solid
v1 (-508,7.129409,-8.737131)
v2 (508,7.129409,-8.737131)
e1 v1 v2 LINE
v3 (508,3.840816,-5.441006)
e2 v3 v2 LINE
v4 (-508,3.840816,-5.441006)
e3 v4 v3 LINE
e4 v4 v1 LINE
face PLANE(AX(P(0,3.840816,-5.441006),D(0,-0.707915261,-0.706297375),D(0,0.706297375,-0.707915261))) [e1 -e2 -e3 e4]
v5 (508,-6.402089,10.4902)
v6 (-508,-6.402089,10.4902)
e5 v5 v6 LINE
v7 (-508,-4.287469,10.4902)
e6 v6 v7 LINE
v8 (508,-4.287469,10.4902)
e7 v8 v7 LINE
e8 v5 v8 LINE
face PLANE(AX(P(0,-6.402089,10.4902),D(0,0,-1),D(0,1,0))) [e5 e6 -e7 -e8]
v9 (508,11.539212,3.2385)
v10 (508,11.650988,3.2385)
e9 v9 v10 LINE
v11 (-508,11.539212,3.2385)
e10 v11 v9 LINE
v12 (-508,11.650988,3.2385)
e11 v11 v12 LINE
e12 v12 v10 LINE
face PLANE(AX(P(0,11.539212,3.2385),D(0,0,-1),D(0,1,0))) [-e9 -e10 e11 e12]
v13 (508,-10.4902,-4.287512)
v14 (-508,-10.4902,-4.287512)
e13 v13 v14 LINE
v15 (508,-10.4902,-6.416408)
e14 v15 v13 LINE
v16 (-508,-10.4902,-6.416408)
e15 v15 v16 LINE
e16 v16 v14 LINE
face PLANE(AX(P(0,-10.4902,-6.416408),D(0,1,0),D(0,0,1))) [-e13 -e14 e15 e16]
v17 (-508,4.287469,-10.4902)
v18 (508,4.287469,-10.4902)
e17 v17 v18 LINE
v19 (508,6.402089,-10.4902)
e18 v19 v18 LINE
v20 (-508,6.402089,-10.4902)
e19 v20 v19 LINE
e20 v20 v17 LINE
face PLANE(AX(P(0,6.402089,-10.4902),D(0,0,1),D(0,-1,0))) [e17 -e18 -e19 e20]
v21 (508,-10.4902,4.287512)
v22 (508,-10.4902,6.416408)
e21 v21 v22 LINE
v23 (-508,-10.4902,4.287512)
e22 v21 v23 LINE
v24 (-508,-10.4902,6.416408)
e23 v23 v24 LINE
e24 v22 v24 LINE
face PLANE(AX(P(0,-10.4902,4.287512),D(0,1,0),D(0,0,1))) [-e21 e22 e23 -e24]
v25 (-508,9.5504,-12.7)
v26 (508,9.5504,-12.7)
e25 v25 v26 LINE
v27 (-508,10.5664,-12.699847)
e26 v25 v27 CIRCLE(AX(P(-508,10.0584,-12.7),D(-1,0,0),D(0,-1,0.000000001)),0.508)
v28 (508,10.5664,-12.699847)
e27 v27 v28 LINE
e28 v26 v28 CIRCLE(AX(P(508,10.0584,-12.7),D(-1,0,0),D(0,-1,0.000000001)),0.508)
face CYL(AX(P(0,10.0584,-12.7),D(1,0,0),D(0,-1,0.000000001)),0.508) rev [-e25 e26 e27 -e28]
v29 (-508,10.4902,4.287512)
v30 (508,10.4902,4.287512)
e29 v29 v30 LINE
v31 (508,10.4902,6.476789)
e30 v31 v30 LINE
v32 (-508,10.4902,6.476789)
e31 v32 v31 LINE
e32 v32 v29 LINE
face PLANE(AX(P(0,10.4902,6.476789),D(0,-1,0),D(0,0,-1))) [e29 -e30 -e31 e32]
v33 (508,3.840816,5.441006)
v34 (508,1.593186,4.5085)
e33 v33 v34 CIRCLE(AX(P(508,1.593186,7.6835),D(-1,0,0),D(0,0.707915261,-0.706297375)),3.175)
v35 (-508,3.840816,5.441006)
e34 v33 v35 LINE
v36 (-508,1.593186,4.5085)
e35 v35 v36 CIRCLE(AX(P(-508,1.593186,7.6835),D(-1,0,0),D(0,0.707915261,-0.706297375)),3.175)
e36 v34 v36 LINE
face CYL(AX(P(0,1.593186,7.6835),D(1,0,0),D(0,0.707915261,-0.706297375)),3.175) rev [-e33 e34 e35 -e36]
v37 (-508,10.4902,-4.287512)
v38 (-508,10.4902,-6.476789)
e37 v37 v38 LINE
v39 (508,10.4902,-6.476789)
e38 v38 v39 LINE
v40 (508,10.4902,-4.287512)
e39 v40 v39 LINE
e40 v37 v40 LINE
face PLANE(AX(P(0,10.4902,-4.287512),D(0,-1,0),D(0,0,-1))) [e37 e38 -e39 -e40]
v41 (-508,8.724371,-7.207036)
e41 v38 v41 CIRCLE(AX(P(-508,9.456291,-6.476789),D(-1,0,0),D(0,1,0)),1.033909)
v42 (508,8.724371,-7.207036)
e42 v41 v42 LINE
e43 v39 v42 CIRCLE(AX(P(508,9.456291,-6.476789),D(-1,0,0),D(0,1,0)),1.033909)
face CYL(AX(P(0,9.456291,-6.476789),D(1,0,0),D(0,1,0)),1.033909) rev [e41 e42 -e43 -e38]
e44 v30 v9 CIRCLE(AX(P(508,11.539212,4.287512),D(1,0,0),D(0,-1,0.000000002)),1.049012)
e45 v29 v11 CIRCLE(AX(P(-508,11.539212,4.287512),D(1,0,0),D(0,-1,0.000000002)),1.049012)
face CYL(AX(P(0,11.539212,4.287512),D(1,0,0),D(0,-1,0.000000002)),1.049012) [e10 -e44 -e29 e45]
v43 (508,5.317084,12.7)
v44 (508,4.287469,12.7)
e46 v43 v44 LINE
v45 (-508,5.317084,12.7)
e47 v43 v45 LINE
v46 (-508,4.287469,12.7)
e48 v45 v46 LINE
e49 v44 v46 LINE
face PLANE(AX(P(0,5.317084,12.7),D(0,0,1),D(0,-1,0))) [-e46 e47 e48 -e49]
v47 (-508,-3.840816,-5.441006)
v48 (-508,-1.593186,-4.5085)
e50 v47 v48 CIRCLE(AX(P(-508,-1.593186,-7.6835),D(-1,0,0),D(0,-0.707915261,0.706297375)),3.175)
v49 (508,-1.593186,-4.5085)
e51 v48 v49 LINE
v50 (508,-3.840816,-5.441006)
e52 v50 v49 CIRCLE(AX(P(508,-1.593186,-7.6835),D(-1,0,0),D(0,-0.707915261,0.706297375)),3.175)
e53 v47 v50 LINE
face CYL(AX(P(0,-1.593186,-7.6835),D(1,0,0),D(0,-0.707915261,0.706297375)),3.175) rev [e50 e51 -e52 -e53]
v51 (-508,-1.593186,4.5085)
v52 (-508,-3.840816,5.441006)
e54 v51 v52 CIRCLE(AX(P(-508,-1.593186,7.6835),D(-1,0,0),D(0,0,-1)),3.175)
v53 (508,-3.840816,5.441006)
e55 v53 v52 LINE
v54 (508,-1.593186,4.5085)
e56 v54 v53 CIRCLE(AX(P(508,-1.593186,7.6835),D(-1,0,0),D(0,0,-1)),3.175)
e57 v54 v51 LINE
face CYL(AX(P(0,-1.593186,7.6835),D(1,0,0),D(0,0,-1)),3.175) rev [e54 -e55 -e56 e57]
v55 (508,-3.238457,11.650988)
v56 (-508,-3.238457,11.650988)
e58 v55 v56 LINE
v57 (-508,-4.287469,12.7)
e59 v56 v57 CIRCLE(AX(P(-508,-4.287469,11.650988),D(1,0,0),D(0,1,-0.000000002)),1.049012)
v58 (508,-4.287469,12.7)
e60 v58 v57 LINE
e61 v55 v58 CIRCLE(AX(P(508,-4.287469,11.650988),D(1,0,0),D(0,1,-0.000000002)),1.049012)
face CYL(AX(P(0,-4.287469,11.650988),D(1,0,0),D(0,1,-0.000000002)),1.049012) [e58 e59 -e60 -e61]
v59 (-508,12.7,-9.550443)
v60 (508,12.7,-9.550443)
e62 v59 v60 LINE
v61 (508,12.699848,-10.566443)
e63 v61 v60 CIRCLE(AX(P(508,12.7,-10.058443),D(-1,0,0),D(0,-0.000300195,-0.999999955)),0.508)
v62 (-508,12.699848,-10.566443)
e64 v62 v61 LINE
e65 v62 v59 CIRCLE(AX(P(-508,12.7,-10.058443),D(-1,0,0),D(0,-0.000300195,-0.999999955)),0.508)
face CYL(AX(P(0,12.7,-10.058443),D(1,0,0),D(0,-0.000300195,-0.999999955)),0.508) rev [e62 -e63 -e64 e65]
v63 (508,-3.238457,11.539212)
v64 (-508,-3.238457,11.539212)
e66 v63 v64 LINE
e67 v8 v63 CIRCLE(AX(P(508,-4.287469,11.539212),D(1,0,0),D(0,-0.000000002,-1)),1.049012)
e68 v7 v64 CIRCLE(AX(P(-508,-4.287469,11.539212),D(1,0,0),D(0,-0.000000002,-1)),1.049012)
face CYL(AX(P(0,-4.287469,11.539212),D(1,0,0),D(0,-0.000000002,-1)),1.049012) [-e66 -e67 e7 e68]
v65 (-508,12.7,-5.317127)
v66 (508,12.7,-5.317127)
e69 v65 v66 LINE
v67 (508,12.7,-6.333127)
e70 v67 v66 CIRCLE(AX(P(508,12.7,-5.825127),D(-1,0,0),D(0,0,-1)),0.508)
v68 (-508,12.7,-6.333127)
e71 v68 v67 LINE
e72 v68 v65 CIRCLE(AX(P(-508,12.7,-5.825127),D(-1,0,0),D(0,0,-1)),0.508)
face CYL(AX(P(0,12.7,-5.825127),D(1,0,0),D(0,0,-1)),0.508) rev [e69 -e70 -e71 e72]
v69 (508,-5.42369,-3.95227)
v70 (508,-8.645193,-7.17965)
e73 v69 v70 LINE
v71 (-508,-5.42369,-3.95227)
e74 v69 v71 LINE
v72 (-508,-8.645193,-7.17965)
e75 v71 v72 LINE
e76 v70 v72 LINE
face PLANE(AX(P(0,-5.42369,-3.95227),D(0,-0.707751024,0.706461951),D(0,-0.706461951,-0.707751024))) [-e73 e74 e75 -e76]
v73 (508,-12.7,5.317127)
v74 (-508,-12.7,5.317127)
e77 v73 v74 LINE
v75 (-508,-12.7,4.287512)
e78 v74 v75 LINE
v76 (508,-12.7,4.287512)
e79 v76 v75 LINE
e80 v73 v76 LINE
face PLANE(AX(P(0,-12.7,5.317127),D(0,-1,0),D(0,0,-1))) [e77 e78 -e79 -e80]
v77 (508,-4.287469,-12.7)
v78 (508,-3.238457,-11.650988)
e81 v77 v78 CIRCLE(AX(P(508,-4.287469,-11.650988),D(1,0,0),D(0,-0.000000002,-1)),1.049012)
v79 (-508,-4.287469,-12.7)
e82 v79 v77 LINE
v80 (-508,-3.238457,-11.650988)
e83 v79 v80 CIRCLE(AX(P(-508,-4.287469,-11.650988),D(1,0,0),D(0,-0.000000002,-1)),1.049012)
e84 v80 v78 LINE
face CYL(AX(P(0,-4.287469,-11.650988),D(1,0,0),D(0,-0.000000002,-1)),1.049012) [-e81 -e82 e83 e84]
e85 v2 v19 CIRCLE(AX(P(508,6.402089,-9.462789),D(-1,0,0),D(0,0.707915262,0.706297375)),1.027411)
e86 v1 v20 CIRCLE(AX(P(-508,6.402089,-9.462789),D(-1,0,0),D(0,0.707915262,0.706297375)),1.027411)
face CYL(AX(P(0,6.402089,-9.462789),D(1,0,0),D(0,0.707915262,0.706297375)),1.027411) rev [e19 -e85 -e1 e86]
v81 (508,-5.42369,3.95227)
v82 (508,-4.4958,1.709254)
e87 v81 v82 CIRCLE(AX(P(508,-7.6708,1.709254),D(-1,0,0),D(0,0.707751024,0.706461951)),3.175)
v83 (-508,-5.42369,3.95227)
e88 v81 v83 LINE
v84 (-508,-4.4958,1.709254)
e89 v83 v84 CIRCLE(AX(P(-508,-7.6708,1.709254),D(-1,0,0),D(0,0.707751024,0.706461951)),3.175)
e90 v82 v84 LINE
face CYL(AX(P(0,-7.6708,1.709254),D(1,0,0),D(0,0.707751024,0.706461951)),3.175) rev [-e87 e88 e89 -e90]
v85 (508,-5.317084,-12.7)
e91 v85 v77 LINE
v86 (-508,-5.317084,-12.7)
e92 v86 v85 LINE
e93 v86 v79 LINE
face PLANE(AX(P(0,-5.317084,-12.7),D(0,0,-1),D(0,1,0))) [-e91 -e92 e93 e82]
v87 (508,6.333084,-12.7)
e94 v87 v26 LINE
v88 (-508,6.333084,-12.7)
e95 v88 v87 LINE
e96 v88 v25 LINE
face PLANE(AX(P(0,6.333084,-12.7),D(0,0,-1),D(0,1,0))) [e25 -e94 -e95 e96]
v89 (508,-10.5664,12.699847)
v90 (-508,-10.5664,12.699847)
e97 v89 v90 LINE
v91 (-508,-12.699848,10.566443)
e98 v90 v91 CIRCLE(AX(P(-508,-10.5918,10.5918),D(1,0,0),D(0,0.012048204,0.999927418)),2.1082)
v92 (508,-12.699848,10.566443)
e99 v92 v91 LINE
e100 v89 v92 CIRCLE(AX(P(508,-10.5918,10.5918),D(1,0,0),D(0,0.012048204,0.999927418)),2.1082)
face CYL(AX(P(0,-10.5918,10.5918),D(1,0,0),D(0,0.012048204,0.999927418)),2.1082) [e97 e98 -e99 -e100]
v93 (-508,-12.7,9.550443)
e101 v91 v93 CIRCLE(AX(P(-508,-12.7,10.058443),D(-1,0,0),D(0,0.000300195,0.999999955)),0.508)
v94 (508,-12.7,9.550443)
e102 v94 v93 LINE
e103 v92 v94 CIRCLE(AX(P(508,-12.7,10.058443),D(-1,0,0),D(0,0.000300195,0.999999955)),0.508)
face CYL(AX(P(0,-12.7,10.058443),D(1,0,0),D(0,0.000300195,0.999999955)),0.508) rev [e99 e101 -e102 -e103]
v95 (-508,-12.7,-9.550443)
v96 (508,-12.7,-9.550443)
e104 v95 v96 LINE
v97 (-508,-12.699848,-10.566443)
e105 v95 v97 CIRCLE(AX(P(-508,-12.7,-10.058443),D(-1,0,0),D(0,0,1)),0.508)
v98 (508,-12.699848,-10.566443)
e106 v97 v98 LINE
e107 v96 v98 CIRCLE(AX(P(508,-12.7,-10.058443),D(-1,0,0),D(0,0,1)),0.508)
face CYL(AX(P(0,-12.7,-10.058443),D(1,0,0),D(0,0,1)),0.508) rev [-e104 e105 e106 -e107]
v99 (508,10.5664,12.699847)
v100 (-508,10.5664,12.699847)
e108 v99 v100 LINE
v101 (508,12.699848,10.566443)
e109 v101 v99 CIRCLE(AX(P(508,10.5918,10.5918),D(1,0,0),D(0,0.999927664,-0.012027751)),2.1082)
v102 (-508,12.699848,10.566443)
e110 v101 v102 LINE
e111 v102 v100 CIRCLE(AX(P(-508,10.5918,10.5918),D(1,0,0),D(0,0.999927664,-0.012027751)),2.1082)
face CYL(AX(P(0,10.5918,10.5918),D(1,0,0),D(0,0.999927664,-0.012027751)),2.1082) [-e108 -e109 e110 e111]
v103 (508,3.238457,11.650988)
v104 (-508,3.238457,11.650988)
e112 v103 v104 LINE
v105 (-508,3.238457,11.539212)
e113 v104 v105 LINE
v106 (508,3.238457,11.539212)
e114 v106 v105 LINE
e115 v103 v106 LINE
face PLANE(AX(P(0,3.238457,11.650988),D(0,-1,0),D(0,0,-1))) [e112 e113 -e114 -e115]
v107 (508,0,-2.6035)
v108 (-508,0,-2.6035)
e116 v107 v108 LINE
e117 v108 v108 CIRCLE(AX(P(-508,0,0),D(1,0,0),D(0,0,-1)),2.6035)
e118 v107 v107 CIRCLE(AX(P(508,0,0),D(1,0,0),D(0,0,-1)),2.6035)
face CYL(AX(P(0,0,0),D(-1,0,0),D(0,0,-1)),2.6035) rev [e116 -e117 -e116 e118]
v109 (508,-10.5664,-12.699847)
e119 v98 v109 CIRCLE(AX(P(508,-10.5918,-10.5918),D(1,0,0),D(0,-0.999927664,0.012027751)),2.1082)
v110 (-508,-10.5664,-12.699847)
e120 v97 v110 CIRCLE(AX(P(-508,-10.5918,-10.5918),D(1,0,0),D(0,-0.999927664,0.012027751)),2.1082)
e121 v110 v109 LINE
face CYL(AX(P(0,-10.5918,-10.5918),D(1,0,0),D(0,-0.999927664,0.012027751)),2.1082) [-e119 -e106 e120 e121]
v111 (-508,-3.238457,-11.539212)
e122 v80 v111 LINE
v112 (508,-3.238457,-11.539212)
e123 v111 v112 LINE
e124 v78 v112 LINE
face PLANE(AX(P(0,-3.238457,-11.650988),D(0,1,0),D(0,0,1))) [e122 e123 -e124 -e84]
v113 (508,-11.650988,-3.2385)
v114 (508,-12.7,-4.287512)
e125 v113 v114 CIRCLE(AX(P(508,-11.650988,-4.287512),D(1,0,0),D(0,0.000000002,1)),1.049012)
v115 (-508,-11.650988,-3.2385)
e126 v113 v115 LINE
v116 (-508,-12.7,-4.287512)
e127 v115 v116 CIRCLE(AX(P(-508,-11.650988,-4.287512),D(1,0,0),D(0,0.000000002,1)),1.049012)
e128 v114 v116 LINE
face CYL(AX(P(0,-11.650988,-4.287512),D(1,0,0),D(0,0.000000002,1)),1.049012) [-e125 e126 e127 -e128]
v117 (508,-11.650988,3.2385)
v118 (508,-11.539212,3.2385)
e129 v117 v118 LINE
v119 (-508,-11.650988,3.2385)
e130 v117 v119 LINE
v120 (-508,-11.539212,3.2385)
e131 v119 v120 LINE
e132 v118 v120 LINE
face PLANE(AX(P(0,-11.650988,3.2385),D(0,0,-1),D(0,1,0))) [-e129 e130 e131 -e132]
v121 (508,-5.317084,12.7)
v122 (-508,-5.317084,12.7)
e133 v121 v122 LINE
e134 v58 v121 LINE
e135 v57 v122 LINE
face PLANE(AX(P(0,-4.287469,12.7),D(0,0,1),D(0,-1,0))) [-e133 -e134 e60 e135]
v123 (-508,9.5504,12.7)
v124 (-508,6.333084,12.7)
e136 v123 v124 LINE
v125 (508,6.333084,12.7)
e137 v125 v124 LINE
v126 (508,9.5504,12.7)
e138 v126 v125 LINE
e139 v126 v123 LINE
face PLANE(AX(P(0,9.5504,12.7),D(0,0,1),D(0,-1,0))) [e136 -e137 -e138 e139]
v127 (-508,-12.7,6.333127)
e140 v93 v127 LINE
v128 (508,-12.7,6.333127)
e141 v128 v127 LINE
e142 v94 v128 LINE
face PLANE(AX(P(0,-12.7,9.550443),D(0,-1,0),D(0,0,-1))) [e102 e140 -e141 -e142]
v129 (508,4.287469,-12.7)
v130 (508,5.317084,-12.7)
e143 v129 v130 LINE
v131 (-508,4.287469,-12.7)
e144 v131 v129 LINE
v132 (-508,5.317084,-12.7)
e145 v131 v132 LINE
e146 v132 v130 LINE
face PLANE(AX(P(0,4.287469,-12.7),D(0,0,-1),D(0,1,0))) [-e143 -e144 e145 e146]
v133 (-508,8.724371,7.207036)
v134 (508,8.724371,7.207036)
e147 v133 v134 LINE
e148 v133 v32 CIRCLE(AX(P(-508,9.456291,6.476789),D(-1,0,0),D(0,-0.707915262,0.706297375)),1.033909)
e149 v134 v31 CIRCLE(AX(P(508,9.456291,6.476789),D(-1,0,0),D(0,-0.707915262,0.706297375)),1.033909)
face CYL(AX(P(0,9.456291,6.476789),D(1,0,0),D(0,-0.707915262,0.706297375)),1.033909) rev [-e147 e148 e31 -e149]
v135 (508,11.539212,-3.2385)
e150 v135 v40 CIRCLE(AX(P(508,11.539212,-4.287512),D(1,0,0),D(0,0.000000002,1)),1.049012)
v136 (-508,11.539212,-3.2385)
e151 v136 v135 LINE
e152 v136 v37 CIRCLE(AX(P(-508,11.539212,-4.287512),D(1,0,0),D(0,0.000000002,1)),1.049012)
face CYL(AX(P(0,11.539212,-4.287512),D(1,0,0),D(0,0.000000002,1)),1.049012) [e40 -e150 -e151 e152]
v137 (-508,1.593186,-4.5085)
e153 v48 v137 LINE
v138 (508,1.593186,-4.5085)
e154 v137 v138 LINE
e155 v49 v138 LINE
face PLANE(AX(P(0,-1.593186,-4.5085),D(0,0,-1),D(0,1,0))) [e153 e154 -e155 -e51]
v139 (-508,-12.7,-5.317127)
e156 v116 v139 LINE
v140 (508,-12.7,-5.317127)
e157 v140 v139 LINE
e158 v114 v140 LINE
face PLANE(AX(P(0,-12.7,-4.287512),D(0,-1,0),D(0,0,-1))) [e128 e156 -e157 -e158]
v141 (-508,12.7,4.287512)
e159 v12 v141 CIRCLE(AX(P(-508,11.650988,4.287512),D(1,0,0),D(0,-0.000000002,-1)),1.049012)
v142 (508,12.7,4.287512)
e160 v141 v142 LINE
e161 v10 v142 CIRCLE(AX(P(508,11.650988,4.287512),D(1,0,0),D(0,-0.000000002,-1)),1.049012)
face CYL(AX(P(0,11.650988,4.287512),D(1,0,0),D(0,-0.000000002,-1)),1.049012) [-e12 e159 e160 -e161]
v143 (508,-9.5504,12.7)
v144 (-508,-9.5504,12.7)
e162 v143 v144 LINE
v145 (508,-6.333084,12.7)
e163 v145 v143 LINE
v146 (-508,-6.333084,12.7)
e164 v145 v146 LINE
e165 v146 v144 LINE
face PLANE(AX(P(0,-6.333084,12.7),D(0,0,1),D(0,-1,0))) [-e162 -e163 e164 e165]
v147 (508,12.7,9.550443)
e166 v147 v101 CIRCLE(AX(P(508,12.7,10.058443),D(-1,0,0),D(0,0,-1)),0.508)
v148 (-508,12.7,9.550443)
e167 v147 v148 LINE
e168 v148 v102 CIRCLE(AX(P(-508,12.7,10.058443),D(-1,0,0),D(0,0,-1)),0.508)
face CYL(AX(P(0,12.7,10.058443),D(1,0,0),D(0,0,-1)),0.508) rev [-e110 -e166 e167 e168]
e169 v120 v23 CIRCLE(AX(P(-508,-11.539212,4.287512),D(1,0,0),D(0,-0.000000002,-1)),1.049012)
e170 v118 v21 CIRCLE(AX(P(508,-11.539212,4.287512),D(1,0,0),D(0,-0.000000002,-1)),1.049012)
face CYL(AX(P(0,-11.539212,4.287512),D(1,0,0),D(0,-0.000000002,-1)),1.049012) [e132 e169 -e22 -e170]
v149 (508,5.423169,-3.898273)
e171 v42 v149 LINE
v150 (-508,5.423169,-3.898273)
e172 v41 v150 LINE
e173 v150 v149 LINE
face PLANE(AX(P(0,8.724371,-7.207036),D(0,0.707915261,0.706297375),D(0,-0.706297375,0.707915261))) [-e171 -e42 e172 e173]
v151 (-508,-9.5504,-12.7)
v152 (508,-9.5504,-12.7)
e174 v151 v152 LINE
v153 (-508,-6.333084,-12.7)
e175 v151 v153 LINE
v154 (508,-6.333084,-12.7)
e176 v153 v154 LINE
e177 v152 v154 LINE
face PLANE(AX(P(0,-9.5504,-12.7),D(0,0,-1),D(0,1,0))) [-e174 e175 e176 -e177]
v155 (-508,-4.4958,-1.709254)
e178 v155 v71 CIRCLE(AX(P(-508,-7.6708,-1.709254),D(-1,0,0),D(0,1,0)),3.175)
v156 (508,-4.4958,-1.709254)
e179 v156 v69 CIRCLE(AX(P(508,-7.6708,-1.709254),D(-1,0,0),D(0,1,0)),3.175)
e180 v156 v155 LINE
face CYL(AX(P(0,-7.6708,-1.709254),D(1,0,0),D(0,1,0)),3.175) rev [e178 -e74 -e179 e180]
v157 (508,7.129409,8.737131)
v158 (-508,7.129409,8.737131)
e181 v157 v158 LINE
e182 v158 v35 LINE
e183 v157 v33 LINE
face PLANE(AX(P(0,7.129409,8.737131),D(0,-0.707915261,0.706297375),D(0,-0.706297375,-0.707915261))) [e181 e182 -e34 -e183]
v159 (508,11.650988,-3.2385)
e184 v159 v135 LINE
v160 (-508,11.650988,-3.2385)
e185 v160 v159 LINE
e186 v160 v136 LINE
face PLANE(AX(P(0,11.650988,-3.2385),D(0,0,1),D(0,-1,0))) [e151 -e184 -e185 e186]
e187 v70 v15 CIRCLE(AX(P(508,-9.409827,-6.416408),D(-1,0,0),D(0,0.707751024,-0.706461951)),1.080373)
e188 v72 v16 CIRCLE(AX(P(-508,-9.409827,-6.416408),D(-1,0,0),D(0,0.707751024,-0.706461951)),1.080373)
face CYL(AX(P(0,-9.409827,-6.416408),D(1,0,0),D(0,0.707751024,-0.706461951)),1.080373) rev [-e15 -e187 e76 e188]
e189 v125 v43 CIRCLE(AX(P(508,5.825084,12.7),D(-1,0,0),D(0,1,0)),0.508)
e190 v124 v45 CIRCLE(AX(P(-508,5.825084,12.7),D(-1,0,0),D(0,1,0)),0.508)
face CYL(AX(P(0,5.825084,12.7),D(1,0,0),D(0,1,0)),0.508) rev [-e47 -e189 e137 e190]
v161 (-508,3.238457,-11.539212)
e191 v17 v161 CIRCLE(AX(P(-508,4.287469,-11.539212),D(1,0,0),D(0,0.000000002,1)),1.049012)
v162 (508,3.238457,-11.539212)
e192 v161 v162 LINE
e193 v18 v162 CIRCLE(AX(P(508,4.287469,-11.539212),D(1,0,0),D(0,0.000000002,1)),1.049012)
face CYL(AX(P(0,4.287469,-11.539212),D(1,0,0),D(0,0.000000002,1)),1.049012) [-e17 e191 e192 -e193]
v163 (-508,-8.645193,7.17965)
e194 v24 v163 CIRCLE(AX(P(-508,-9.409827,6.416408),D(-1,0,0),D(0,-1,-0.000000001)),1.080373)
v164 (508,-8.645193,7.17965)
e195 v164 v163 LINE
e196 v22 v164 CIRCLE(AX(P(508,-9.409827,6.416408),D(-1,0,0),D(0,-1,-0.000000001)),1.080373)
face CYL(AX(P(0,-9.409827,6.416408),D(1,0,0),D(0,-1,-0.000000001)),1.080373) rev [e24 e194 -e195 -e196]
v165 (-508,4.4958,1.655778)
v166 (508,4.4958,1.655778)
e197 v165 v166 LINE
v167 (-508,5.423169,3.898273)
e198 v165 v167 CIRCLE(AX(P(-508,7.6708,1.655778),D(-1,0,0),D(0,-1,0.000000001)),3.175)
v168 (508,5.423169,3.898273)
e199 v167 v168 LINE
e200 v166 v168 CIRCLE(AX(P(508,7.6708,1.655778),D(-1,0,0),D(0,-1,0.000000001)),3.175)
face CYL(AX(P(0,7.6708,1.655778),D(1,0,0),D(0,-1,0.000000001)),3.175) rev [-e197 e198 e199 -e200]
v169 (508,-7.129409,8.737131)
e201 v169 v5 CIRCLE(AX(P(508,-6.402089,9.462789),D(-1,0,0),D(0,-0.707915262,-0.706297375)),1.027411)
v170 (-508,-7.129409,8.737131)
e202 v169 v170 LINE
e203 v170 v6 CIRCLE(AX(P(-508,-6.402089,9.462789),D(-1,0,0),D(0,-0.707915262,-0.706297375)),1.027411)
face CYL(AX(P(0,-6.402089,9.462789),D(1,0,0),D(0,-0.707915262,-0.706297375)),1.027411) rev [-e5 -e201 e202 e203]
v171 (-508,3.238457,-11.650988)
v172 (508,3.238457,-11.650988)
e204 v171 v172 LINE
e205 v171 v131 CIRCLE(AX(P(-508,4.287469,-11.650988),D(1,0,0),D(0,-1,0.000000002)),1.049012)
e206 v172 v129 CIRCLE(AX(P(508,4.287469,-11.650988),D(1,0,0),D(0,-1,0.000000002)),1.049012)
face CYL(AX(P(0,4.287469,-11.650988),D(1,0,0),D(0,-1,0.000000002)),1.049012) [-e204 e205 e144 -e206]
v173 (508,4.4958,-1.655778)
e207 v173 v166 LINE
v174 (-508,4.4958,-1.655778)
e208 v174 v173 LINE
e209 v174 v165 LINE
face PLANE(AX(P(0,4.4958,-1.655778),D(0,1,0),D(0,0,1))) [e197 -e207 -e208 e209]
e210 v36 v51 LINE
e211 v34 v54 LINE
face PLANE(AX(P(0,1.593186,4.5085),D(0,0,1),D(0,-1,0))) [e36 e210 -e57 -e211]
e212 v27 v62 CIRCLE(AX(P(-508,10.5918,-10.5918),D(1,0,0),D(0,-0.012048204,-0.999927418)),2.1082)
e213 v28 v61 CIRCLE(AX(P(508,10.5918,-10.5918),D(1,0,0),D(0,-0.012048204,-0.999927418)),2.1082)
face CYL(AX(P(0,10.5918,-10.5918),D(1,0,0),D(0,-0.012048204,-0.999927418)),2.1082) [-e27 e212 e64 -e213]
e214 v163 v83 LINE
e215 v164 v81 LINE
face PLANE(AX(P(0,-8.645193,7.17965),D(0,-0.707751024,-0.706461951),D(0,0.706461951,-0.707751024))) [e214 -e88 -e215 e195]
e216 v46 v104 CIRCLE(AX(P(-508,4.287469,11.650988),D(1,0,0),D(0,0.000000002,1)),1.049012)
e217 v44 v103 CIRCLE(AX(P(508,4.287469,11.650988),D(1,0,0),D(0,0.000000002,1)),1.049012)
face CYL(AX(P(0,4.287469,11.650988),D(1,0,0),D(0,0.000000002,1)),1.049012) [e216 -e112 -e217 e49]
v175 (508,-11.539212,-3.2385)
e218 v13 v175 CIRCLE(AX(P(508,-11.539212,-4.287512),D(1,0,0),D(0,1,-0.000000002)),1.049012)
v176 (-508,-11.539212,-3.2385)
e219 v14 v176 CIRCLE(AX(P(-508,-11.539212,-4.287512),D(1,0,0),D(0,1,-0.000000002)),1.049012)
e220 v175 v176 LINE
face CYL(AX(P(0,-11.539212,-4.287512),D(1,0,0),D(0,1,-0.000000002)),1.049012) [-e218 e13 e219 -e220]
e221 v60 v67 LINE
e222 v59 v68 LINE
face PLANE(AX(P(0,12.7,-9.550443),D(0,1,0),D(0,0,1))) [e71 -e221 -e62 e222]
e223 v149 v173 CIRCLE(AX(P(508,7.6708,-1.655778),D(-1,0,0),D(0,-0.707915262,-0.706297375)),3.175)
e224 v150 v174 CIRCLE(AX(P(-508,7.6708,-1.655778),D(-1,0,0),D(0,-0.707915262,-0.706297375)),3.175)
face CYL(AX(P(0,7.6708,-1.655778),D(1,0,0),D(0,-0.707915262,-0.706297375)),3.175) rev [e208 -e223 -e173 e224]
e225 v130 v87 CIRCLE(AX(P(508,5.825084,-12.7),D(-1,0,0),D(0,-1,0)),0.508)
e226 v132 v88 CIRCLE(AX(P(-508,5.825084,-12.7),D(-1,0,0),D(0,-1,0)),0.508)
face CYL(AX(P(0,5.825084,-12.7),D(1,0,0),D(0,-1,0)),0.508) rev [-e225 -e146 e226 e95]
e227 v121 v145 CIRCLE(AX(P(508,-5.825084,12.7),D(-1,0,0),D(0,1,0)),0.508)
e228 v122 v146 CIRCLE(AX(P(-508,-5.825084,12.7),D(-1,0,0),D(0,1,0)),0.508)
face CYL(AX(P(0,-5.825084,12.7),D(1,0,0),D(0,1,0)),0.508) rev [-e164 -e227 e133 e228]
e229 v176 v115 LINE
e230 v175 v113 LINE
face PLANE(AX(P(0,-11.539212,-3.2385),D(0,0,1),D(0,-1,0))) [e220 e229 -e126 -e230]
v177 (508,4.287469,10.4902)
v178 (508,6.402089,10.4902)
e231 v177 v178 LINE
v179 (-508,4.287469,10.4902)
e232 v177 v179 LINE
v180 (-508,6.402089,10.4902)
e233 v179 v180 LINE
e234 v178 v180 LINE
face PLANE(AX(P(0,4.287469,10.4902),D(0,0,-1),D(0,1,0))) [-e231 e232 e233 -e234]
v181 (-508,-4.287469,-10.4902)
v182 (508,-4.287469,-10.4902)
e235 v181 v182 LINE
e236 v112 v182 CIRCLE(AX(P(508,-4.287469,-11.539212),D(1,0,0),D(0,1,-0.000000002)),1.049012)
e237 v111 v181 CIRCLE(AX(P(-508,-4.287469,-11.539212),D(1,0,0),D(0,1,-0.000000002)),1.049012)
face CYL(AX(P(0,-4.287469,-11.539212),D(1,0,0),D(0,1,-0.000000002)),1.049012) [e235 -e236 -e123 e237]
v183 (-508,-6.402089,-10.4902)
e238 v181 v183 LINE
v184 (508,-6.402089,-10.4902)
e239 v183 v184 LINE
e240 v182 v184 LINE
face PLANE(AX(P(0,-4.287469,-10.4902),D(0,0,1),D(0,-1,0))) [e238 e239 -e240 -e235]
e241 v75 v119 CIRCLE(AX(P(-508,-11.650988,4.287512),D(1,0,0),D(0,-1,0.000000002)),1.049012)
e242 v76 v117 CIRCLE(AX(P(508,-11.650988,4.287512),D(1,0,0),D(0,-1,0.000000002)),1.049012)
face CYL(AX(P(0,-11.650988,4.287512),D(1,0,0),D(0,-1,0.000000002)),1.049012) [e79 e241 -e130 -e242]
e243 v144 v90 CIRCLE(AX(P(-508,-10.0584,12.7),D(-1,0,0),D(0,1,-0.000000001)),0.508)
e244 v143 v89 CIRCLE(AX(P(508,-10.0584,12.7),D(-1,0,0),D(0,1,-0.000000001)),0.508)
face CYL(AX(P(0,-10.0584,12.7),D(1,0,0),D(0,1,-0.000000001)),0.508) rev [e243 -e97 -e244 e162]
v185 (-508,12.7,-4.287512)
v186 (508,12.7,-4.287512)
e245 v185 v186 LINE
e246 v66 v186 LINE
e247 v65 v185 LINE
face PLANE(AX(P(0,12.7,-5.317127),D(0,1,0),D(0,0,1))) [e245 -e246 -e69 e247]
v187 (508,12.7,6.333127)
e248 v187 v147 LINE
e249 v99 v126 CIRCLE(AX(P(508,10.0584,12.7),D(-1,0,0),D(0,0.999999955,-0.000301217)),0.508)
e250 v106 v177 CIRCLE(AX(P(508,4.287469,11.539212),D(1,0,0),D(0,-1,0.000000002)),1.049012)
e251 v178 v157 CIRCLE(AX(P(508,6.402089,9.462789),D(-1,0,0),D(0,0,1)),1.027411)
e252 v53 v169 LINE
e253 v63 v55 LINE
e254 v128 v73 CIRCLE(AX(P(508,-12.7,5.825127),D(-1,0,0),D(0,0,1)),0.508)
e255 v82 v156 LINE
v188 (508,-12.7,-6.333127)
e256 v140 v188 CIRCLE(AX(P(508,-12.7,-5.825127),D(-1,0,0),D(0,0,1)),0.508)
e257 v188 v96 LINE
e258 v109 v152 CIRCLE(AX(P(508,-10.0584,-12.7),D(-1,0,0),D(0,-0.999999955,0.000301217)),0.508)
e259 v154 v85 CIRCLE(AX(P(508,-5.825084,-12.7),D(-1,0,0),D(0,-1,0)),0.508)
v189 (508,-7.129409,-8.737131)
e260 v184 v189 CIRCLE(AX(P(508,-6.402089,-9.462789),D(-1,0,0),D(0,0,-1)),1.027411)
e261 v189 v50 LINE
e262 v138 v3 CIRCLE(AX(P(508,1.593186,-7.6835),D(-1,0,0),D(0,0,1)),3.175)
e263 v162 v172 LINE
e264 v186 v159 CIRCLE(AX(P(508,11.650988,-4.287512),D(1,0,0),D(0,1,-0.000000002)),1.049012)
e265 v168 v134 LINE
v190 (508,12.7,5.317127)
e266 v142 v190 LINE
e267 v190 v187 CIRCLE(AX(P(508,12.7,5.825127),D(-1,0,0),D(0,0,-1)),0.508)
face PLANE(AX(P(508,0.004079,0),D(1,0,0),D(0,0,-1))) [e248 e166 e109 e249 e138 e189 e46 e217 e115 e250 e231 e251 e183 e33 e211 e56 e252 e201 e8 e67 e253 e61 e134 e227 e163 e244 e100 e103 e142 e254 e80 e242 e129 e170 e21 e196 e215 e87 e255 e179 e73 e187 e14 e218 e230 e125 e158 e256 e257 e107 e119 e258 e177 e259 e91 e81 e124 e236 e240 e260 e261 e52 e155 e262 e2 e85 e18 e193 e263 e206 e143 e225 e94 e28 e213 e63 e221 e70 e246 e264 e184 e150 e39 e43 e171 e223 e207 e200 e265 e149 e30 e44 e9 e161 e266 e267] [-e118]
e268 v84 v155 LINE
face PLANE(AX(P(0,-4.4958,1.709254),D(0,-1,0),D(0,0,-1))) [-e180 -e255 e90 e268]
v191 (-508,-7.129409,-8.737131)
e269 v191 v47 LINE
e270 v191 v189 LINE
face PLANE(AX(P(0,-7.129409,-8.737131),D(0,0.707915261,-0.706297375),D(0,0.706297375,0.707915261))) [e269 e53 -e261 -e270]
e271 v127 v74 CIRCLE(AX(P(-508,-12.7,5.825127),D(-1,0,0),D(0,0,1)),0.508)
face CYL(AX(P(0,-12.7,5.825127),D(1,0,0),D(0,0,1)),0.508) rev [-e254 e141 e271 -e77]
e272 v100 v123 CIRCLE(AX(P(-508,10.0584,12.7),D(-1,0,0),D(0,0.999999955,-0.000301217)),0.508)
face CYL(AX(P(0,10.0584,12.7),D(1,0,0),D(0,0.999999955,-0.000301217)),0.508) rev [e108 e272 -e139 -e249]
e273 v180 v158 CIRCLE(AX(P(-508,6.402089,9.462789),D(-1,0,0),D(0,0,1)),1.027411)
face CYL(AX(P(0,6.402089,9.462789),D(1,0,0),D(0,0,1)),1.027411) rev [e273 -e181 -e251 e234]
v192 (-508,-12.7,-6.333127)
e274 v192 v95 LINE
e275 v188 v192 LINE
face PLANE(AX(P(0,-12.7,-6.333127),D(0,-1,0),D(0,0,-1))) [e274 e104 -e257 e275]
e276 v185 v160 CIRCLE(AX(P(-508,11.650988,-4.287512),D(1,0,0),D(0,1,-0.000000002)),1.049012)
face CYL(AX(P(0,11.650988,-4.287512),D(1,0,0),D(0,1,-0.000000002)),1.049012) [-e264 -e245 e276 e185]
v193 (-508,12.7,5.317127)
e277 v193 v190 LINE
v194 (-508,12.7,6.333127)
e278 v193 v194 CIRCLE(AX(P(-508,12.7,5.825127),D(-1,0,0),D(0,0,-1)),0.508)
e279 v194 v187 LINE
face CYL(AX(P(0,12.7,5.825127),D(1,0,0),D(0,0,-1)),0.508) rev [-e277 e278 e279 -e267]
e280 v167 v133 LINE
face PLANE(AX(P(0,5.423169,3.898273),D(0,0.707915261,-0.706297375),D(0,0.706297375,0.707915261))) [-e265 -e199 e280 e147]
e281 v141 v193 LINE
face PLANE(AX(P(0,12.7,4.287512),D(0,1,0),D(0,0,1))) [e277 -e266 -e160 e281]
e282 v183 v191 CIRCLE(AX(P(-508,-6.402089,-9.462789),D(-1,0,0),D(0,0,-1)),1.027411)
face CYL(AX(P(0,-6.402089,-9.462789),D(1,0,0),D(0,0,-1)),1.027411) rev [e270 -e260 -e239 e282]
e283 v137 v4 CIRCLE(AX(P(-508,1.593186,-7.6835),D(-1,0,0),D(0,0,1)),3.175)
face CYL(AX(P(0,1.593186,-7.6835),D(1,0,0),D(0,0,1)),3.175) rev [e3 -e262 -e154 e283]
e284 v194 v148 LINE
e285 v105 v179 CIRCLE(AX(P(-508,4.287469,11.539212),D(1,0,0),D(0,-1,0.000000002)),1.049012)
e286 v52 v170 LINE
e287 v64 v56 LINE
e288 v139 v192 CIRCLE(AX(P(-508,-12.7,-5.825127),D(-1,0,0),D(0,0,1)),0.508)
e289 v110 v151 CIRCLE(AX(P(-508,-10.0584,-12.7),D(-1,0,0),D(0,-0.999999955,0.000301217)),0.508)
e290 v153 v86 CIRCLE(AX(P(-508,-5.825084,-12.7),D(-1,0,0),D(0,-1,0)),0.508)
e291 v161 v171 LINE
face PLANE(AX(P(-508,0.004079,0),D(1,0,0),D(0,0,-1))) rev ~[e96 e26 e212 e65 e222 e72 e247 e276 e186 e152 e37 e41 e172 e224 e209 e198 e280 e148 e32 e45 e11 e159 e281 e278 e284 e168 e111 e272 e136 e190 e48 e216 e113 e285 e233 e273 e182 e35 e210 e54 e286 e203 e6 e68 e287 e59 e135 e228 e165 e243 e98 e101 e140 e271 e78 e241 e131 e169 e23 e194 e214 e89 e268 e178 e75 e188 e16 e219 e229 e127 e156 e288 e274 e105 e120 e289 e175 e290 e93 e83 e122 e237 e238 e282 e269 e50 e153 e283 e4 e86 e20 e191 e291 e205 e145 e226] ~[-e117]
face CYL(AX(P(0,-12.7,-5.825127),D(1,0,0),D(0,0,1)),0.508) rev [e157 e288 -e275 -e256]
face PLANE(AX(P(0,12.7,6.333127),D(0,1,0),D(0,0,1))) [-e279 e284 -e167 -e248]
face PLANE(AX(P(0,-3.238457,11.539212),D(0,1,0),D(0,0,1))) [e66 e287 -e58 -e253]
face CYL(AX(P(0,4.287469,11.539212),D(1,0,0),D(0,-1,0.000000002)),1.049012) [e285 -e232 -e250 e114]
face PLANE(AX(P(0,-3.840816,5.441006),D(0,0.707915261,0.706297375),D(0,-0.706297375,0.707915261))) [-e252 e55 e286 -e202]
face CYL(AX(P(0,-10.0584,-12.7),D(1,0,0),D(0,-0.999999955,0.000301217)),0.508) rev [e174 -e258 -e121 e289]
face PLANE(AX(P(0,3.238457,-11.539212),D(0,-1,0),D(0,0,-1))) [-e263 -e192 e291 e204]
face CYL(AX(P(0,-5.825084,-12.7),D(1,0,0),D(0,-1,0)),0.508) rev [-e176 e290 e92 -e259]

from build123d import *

# Parameters (mm, degrees)
SKETCH1_R           = 2.6035
BOSS_EXTRUDE1_DEPTH = 508


with BuildPart() as part:
    # Sketch1 → Boss-Extrude1 (new, symmetric)
    with BuildSketch(Plane(origin=(0, 0, 0), x_dir=(0, 0, -1), z_dir=(1, 0, 0))):
        with BuildLine():
            Line((6.333126718, -12.7), (9.550443118, -12.7))
            ThreePointArc((9.550443118, -12.7), (10.058366869, -12.192000006), (10.566443095, -12.699847501))
            ThreePointArc((10.566443095, -12.699847501), (12.082537762, -12.08250727), (12.699846982, -10.566399977))
            ThreePointArc((12.699846982, -10.566399977), (12.192000006, -10.058323491), (12.7, -9.5504))
            Line((12.7, -9.5504), (12.7, -6.3330836))
            ThreePointArc((12.7, -6.3330836), (12.192, -5.8250836), (12.7, -5.3170836))
            Line((12.7, -5.3170836), (12.7, -4.287469289))
            ThreePointArc((12.7, -4.287469289), (12.39275138, -3.545705502), (11.650987593, -3.238456882))
            Line((11.650987593, -3.238456882), (11.539212407, -3.238456882))
            ThreePointArc((11.539212407, -3.238456882), (10.79744862, -3.545705502), (10.4902, -4.287469289))
            Line((10.4902, -4.287469289), (10.4902, -6.402089023))
            ThreePointArc((10.4902, -6.402089023), (9.856505071, -7.351067942), (8.737131347, -7.129408934))
            Line((8.737131347, -7.129408934), (5.441005833, -3.840816462))
            ThreePointArc((5.441005833, -3.840816462), (4.750877967, -2.809883091), (4.5085, -1.593185507))
            Line((4.5085, -1.593185507), (4.5085, 1.593185507))
            ThreePointArc((4.5085, 1.593185507), (4.750877967, 2.809883091), (5.441005833, 3.840816462))
            Line((5.441005833, 3.840816462), (8.737131347, 7.129408934))
            ThreePointArc((8.737131347, 7.129408934), (9.856505071, 7.351067942), (10.4902, 6.402089023))
            Line((10.4902, 6.402089023), (10.4902, 4.287469289))
            ThreePointArc((10.4902, 4.287469289), (10.79744862, 3.545705502), (11.539212407, 3.238456882))
            Line((11.539212407, 3.238456882), (11.650987593, 3.238456882))
            ThreePointArc((11.650987593, 3.238456882), (12.39275138, 3.545705502), (12.7, 4.287469289))
            Line((12.7, 4.287469289), (12.7, 5.3170836))
            ThreePointArc((12.7, 5.3170836), (12.192, 5.8250836), (12.7, 6.3330836))
            Line((12.7, 6.3330836), (12.7, 9.5504))
            ThreePointArc((12.7, 9.5504), (12.192000006, 10.058323491), (12.699846982, 10.566399977))
            ThreePointArc((12.699846982, 10.566399977), (12.082537762, 12.08250727), (10.566443095, 12.699847501))
            ThreePointArc((10.566443095, 12.699847501), (10.058366869, 12.192000006), (9.550443118, 12.7))
            Line((9.550443118, 12.7), (6.333126718, 12.7))
            ThreePointArc((6.333126718, 12.7), (5.825126718, 12.192), (5.317126718, 12.7))
            Line((5.317126718, 12.7), (4.287512407, 12.7))
            ThreePointArc((4.287512407, 12.7), (3.54574862, 12.39275138), (3.2385, 11.650987593))
            Line((3.2385, 11.650987593), (3.2385, 11.539212407))
            ThreePointArc((3.2385, 11.539212407), (3.54574862, 10.79744862), (4.287512407, 10.4902))
            Line((4.287512407, 10.4902), (6.476788598, 10.4902))
            ThreePointArc((6.476788598, 10.4902), (7.432222385, 9.85140422), (7.207036008, 8.724370562))
            Line((7.207036008, 8.724370562), (3.898272566, 5.423169045))
            ThreePointArc((3.898272566, 5.423169045), (2.869120213, 4.736787962), (1.655778399, 4.4958))
            Line((1.655778399, 4.4958), (-1.655778399, 4.4958))
            ThreePointArc((-1.655778399, 4.4958), (-2.869120213, 4.736787962), (-3.898272566, 5.423169045))
            Line((-3.898272566, 5.423169045), (-7.207036008, 8.724370562))
            ThreePointArc((-7.207036008, 8.724370562), (-7.432222385, 9.85140422), (-6.476788598, 10.4902))
            Line((-6.476788598, 10.4902), (-4.287512407, 10.4902))
            ThreePointArc((-4.287512407, 10.4902), (-3.54574862, 10.79744862), (-3.2385, 11.539212407))
            Line((-3.2385, 11.539212407), (-3.2385, 11.650987593))
            ThreePointArc((-3.2385, 11.650987593), (-3.54574862, 12.39275138), (-4.287512407, 12.7))
            Line((-4.287512407, 12.7), (-5.317126718, 12.7))
            ThreePointArc((-5.317126718, 12.7), (-5.825126718, 12.192), (-6.333126718, 12.7))
            Line((-6.333126718, 12.7), (-9.550443118, 12.7))
            ThreePointArc((-9.550443118, 12.7), (-10.058366869, 12.192000006), (-10.566443095, 12.699847501))
            ThreePointArc((-10.566443095, 12.699847501), (-12.082537762, 12.08250727), (-12.699846982, 10.566399977))
            ThreePointArc((-12.699846982, 10.566399977), (-12.192000006, 10.058323491), (-12.7, 9.5504))
            Line((-12.7, 9.5504), (-12.7, 6.3330836))
            ThreePointArc((-12.7, 6.3330836), (-12.192, 5.8250836), (-12.7, 5.3170836))
            Line((-12.7, 5.3170836), (-12.7, 4.287469289))
            ThreePointArc((-12.7, 4.287469289), (-12.39275138, 3.545705502), (-11.650987593, 3.238456882))
            Line((-11.650987593, 3.238456882), (-11.539212407, 3.238456882))
            ThreePointArc((-11.539212407, 3.238456882), (-10.79744862, 3.545705502), (-10.4902, 4.287469289))
            Line((-10.4902, 4.287469289), (-10.4902, 6.402089023))
            ThreePointArc((-10.4902, 6.402089023), (-9.856505071, 7.351067942), (-8.737131347, 7.129408934))
            Line((-8.737131347, 7.129408934), (-5.441005833, 3.840816462))
            ThreePointArc((-5.441005833, 3.840816462), (-4.750877967, 2.809883091), (-4.5085, 1.593185507))
            Line((-4.5085, 1.593185507), (-4.5085, -1.593185507))
            ThreePointArc((-4.5085, -1.593185507), (-4.750877967, -2.809883091), (-5.441005833, -3.840816462))
            Line((-5.441005833, -3.840816462), (-8.737131347, -7.129408934))
            ThreePointArc((-8.737131347, -7.129408934), (-9.856505071, -7.351067942), (-10.4902, -6.402089023))
            Line((-10.4902, -6.402089023), (-10.4902, -4.287469289))
            ThreePointArc((-10.4902, -4.287469289), (-10.79744862, -3.545705502), (-11.539212407, -3.238456882))
            Line((-11.539212407, -3.238456882), (-11.650987593, -3.238456882))
            ThreePointArc((-11.650987593, -3.238456882), (-12.39275138, -3.545705502), (-12.7, -4.287469289))
            Line((-12.7, -4.287469289), (-12.7, -5.3170836))
            ThreePointArc((-12.7, -5.3170836), (-12.192, -5.8250836), (-12.7, -6.3330836))
            Line((-12.7, -6.3330836), (-12.7, -9.5504))
            ThreePointArc((-12.7, -9.5504), (-12.192000006, -10.058323491), (-12.699846982, -10.566399977))
            ThreePointArc((-12.699846982, -10.566399977), (-12.082537762, -12.08250727), (-10.566443095, -12.699847501))
            ThreePointArc((-10.566443095, -12.699847501), (-10.058366869, -12.192000006), (-9.550443118, -12.7))
            Line((-9.550443118, -12.7), (-6.333126718, -12.7))
            ThreePointArc((-6.333126718, -12.7), (-5.825126718, -12.192), (-5.317126718, -12.7))
            Line((-5.317126718, -12.7), (-4.287512407, -12.7))
            ThreePointArc((-4.287512407, -12.7), (-3.54574862, -12.39275138), (-3.2385, -11.650987593))
            Line((-3.2385, -11.650987593), (-3.2385, -11.539212407))
            ThreePointArc((-3.2385, -11.539212407), (-3.54574862, -10.79744862), (-4.287512407, -10.4902))
            Line((-4.287512407, -10.4902), (-6.416408329, -10.4902))
            ThreePointArc((-6.416408329, -10.4902), (-7.41473083, -9.822813117), (-7.179650497, -8.645192506))
            Line((-7.179650497, -8.645192506), (-3.952270251, -5.423690499))
            ThreePointArc((-3.952270251, -5.423690499), (-2.922936451, -4.736929036), (-1.709253557, -4.4958))
            Line((-1.709253557, -4.4958), (1.709253557, -4.4958))
            ThreePointArc((1.709253557, -4.4958), (2.922936451, -4.736929036), (3.952270251, -5.423690499))
            Line((3.952270251, -5.423690499), (7.179650497, -8.645192506))
            ThreePointArc((7.179650497, -8.645192506), (7.41473083, -9.822813117), (6.416408329, -10.4902))
            Line((6.416408329, -10.4902), (4.287512407, -10.4902))
            ThreePointArc((4.287512407, -10.4902), (3.54574862, -10.79744862), (3.2385, -11.539212407))
            Line((3.2385, -11.539212407), (3.2385, -11.650987593))
            ThreePointArc((3.2385, -11.650987593), (3.54574862, -12.39275138), (4.287512407, -12.7))
            Line((4.287512407, -12.7), (5.317126718, -12.7))
            ThreePointArc((5.317126718, -12.7), (5.825126718, -12.192), (6.333126718, -12.7))
        make_face()
        Circle(SKETCH1_R, mode=Mode.SUBTRACT)
    extrude(amount=BOSS_EXTRUDE1_DEPTH, both=True)


solid = part.part
